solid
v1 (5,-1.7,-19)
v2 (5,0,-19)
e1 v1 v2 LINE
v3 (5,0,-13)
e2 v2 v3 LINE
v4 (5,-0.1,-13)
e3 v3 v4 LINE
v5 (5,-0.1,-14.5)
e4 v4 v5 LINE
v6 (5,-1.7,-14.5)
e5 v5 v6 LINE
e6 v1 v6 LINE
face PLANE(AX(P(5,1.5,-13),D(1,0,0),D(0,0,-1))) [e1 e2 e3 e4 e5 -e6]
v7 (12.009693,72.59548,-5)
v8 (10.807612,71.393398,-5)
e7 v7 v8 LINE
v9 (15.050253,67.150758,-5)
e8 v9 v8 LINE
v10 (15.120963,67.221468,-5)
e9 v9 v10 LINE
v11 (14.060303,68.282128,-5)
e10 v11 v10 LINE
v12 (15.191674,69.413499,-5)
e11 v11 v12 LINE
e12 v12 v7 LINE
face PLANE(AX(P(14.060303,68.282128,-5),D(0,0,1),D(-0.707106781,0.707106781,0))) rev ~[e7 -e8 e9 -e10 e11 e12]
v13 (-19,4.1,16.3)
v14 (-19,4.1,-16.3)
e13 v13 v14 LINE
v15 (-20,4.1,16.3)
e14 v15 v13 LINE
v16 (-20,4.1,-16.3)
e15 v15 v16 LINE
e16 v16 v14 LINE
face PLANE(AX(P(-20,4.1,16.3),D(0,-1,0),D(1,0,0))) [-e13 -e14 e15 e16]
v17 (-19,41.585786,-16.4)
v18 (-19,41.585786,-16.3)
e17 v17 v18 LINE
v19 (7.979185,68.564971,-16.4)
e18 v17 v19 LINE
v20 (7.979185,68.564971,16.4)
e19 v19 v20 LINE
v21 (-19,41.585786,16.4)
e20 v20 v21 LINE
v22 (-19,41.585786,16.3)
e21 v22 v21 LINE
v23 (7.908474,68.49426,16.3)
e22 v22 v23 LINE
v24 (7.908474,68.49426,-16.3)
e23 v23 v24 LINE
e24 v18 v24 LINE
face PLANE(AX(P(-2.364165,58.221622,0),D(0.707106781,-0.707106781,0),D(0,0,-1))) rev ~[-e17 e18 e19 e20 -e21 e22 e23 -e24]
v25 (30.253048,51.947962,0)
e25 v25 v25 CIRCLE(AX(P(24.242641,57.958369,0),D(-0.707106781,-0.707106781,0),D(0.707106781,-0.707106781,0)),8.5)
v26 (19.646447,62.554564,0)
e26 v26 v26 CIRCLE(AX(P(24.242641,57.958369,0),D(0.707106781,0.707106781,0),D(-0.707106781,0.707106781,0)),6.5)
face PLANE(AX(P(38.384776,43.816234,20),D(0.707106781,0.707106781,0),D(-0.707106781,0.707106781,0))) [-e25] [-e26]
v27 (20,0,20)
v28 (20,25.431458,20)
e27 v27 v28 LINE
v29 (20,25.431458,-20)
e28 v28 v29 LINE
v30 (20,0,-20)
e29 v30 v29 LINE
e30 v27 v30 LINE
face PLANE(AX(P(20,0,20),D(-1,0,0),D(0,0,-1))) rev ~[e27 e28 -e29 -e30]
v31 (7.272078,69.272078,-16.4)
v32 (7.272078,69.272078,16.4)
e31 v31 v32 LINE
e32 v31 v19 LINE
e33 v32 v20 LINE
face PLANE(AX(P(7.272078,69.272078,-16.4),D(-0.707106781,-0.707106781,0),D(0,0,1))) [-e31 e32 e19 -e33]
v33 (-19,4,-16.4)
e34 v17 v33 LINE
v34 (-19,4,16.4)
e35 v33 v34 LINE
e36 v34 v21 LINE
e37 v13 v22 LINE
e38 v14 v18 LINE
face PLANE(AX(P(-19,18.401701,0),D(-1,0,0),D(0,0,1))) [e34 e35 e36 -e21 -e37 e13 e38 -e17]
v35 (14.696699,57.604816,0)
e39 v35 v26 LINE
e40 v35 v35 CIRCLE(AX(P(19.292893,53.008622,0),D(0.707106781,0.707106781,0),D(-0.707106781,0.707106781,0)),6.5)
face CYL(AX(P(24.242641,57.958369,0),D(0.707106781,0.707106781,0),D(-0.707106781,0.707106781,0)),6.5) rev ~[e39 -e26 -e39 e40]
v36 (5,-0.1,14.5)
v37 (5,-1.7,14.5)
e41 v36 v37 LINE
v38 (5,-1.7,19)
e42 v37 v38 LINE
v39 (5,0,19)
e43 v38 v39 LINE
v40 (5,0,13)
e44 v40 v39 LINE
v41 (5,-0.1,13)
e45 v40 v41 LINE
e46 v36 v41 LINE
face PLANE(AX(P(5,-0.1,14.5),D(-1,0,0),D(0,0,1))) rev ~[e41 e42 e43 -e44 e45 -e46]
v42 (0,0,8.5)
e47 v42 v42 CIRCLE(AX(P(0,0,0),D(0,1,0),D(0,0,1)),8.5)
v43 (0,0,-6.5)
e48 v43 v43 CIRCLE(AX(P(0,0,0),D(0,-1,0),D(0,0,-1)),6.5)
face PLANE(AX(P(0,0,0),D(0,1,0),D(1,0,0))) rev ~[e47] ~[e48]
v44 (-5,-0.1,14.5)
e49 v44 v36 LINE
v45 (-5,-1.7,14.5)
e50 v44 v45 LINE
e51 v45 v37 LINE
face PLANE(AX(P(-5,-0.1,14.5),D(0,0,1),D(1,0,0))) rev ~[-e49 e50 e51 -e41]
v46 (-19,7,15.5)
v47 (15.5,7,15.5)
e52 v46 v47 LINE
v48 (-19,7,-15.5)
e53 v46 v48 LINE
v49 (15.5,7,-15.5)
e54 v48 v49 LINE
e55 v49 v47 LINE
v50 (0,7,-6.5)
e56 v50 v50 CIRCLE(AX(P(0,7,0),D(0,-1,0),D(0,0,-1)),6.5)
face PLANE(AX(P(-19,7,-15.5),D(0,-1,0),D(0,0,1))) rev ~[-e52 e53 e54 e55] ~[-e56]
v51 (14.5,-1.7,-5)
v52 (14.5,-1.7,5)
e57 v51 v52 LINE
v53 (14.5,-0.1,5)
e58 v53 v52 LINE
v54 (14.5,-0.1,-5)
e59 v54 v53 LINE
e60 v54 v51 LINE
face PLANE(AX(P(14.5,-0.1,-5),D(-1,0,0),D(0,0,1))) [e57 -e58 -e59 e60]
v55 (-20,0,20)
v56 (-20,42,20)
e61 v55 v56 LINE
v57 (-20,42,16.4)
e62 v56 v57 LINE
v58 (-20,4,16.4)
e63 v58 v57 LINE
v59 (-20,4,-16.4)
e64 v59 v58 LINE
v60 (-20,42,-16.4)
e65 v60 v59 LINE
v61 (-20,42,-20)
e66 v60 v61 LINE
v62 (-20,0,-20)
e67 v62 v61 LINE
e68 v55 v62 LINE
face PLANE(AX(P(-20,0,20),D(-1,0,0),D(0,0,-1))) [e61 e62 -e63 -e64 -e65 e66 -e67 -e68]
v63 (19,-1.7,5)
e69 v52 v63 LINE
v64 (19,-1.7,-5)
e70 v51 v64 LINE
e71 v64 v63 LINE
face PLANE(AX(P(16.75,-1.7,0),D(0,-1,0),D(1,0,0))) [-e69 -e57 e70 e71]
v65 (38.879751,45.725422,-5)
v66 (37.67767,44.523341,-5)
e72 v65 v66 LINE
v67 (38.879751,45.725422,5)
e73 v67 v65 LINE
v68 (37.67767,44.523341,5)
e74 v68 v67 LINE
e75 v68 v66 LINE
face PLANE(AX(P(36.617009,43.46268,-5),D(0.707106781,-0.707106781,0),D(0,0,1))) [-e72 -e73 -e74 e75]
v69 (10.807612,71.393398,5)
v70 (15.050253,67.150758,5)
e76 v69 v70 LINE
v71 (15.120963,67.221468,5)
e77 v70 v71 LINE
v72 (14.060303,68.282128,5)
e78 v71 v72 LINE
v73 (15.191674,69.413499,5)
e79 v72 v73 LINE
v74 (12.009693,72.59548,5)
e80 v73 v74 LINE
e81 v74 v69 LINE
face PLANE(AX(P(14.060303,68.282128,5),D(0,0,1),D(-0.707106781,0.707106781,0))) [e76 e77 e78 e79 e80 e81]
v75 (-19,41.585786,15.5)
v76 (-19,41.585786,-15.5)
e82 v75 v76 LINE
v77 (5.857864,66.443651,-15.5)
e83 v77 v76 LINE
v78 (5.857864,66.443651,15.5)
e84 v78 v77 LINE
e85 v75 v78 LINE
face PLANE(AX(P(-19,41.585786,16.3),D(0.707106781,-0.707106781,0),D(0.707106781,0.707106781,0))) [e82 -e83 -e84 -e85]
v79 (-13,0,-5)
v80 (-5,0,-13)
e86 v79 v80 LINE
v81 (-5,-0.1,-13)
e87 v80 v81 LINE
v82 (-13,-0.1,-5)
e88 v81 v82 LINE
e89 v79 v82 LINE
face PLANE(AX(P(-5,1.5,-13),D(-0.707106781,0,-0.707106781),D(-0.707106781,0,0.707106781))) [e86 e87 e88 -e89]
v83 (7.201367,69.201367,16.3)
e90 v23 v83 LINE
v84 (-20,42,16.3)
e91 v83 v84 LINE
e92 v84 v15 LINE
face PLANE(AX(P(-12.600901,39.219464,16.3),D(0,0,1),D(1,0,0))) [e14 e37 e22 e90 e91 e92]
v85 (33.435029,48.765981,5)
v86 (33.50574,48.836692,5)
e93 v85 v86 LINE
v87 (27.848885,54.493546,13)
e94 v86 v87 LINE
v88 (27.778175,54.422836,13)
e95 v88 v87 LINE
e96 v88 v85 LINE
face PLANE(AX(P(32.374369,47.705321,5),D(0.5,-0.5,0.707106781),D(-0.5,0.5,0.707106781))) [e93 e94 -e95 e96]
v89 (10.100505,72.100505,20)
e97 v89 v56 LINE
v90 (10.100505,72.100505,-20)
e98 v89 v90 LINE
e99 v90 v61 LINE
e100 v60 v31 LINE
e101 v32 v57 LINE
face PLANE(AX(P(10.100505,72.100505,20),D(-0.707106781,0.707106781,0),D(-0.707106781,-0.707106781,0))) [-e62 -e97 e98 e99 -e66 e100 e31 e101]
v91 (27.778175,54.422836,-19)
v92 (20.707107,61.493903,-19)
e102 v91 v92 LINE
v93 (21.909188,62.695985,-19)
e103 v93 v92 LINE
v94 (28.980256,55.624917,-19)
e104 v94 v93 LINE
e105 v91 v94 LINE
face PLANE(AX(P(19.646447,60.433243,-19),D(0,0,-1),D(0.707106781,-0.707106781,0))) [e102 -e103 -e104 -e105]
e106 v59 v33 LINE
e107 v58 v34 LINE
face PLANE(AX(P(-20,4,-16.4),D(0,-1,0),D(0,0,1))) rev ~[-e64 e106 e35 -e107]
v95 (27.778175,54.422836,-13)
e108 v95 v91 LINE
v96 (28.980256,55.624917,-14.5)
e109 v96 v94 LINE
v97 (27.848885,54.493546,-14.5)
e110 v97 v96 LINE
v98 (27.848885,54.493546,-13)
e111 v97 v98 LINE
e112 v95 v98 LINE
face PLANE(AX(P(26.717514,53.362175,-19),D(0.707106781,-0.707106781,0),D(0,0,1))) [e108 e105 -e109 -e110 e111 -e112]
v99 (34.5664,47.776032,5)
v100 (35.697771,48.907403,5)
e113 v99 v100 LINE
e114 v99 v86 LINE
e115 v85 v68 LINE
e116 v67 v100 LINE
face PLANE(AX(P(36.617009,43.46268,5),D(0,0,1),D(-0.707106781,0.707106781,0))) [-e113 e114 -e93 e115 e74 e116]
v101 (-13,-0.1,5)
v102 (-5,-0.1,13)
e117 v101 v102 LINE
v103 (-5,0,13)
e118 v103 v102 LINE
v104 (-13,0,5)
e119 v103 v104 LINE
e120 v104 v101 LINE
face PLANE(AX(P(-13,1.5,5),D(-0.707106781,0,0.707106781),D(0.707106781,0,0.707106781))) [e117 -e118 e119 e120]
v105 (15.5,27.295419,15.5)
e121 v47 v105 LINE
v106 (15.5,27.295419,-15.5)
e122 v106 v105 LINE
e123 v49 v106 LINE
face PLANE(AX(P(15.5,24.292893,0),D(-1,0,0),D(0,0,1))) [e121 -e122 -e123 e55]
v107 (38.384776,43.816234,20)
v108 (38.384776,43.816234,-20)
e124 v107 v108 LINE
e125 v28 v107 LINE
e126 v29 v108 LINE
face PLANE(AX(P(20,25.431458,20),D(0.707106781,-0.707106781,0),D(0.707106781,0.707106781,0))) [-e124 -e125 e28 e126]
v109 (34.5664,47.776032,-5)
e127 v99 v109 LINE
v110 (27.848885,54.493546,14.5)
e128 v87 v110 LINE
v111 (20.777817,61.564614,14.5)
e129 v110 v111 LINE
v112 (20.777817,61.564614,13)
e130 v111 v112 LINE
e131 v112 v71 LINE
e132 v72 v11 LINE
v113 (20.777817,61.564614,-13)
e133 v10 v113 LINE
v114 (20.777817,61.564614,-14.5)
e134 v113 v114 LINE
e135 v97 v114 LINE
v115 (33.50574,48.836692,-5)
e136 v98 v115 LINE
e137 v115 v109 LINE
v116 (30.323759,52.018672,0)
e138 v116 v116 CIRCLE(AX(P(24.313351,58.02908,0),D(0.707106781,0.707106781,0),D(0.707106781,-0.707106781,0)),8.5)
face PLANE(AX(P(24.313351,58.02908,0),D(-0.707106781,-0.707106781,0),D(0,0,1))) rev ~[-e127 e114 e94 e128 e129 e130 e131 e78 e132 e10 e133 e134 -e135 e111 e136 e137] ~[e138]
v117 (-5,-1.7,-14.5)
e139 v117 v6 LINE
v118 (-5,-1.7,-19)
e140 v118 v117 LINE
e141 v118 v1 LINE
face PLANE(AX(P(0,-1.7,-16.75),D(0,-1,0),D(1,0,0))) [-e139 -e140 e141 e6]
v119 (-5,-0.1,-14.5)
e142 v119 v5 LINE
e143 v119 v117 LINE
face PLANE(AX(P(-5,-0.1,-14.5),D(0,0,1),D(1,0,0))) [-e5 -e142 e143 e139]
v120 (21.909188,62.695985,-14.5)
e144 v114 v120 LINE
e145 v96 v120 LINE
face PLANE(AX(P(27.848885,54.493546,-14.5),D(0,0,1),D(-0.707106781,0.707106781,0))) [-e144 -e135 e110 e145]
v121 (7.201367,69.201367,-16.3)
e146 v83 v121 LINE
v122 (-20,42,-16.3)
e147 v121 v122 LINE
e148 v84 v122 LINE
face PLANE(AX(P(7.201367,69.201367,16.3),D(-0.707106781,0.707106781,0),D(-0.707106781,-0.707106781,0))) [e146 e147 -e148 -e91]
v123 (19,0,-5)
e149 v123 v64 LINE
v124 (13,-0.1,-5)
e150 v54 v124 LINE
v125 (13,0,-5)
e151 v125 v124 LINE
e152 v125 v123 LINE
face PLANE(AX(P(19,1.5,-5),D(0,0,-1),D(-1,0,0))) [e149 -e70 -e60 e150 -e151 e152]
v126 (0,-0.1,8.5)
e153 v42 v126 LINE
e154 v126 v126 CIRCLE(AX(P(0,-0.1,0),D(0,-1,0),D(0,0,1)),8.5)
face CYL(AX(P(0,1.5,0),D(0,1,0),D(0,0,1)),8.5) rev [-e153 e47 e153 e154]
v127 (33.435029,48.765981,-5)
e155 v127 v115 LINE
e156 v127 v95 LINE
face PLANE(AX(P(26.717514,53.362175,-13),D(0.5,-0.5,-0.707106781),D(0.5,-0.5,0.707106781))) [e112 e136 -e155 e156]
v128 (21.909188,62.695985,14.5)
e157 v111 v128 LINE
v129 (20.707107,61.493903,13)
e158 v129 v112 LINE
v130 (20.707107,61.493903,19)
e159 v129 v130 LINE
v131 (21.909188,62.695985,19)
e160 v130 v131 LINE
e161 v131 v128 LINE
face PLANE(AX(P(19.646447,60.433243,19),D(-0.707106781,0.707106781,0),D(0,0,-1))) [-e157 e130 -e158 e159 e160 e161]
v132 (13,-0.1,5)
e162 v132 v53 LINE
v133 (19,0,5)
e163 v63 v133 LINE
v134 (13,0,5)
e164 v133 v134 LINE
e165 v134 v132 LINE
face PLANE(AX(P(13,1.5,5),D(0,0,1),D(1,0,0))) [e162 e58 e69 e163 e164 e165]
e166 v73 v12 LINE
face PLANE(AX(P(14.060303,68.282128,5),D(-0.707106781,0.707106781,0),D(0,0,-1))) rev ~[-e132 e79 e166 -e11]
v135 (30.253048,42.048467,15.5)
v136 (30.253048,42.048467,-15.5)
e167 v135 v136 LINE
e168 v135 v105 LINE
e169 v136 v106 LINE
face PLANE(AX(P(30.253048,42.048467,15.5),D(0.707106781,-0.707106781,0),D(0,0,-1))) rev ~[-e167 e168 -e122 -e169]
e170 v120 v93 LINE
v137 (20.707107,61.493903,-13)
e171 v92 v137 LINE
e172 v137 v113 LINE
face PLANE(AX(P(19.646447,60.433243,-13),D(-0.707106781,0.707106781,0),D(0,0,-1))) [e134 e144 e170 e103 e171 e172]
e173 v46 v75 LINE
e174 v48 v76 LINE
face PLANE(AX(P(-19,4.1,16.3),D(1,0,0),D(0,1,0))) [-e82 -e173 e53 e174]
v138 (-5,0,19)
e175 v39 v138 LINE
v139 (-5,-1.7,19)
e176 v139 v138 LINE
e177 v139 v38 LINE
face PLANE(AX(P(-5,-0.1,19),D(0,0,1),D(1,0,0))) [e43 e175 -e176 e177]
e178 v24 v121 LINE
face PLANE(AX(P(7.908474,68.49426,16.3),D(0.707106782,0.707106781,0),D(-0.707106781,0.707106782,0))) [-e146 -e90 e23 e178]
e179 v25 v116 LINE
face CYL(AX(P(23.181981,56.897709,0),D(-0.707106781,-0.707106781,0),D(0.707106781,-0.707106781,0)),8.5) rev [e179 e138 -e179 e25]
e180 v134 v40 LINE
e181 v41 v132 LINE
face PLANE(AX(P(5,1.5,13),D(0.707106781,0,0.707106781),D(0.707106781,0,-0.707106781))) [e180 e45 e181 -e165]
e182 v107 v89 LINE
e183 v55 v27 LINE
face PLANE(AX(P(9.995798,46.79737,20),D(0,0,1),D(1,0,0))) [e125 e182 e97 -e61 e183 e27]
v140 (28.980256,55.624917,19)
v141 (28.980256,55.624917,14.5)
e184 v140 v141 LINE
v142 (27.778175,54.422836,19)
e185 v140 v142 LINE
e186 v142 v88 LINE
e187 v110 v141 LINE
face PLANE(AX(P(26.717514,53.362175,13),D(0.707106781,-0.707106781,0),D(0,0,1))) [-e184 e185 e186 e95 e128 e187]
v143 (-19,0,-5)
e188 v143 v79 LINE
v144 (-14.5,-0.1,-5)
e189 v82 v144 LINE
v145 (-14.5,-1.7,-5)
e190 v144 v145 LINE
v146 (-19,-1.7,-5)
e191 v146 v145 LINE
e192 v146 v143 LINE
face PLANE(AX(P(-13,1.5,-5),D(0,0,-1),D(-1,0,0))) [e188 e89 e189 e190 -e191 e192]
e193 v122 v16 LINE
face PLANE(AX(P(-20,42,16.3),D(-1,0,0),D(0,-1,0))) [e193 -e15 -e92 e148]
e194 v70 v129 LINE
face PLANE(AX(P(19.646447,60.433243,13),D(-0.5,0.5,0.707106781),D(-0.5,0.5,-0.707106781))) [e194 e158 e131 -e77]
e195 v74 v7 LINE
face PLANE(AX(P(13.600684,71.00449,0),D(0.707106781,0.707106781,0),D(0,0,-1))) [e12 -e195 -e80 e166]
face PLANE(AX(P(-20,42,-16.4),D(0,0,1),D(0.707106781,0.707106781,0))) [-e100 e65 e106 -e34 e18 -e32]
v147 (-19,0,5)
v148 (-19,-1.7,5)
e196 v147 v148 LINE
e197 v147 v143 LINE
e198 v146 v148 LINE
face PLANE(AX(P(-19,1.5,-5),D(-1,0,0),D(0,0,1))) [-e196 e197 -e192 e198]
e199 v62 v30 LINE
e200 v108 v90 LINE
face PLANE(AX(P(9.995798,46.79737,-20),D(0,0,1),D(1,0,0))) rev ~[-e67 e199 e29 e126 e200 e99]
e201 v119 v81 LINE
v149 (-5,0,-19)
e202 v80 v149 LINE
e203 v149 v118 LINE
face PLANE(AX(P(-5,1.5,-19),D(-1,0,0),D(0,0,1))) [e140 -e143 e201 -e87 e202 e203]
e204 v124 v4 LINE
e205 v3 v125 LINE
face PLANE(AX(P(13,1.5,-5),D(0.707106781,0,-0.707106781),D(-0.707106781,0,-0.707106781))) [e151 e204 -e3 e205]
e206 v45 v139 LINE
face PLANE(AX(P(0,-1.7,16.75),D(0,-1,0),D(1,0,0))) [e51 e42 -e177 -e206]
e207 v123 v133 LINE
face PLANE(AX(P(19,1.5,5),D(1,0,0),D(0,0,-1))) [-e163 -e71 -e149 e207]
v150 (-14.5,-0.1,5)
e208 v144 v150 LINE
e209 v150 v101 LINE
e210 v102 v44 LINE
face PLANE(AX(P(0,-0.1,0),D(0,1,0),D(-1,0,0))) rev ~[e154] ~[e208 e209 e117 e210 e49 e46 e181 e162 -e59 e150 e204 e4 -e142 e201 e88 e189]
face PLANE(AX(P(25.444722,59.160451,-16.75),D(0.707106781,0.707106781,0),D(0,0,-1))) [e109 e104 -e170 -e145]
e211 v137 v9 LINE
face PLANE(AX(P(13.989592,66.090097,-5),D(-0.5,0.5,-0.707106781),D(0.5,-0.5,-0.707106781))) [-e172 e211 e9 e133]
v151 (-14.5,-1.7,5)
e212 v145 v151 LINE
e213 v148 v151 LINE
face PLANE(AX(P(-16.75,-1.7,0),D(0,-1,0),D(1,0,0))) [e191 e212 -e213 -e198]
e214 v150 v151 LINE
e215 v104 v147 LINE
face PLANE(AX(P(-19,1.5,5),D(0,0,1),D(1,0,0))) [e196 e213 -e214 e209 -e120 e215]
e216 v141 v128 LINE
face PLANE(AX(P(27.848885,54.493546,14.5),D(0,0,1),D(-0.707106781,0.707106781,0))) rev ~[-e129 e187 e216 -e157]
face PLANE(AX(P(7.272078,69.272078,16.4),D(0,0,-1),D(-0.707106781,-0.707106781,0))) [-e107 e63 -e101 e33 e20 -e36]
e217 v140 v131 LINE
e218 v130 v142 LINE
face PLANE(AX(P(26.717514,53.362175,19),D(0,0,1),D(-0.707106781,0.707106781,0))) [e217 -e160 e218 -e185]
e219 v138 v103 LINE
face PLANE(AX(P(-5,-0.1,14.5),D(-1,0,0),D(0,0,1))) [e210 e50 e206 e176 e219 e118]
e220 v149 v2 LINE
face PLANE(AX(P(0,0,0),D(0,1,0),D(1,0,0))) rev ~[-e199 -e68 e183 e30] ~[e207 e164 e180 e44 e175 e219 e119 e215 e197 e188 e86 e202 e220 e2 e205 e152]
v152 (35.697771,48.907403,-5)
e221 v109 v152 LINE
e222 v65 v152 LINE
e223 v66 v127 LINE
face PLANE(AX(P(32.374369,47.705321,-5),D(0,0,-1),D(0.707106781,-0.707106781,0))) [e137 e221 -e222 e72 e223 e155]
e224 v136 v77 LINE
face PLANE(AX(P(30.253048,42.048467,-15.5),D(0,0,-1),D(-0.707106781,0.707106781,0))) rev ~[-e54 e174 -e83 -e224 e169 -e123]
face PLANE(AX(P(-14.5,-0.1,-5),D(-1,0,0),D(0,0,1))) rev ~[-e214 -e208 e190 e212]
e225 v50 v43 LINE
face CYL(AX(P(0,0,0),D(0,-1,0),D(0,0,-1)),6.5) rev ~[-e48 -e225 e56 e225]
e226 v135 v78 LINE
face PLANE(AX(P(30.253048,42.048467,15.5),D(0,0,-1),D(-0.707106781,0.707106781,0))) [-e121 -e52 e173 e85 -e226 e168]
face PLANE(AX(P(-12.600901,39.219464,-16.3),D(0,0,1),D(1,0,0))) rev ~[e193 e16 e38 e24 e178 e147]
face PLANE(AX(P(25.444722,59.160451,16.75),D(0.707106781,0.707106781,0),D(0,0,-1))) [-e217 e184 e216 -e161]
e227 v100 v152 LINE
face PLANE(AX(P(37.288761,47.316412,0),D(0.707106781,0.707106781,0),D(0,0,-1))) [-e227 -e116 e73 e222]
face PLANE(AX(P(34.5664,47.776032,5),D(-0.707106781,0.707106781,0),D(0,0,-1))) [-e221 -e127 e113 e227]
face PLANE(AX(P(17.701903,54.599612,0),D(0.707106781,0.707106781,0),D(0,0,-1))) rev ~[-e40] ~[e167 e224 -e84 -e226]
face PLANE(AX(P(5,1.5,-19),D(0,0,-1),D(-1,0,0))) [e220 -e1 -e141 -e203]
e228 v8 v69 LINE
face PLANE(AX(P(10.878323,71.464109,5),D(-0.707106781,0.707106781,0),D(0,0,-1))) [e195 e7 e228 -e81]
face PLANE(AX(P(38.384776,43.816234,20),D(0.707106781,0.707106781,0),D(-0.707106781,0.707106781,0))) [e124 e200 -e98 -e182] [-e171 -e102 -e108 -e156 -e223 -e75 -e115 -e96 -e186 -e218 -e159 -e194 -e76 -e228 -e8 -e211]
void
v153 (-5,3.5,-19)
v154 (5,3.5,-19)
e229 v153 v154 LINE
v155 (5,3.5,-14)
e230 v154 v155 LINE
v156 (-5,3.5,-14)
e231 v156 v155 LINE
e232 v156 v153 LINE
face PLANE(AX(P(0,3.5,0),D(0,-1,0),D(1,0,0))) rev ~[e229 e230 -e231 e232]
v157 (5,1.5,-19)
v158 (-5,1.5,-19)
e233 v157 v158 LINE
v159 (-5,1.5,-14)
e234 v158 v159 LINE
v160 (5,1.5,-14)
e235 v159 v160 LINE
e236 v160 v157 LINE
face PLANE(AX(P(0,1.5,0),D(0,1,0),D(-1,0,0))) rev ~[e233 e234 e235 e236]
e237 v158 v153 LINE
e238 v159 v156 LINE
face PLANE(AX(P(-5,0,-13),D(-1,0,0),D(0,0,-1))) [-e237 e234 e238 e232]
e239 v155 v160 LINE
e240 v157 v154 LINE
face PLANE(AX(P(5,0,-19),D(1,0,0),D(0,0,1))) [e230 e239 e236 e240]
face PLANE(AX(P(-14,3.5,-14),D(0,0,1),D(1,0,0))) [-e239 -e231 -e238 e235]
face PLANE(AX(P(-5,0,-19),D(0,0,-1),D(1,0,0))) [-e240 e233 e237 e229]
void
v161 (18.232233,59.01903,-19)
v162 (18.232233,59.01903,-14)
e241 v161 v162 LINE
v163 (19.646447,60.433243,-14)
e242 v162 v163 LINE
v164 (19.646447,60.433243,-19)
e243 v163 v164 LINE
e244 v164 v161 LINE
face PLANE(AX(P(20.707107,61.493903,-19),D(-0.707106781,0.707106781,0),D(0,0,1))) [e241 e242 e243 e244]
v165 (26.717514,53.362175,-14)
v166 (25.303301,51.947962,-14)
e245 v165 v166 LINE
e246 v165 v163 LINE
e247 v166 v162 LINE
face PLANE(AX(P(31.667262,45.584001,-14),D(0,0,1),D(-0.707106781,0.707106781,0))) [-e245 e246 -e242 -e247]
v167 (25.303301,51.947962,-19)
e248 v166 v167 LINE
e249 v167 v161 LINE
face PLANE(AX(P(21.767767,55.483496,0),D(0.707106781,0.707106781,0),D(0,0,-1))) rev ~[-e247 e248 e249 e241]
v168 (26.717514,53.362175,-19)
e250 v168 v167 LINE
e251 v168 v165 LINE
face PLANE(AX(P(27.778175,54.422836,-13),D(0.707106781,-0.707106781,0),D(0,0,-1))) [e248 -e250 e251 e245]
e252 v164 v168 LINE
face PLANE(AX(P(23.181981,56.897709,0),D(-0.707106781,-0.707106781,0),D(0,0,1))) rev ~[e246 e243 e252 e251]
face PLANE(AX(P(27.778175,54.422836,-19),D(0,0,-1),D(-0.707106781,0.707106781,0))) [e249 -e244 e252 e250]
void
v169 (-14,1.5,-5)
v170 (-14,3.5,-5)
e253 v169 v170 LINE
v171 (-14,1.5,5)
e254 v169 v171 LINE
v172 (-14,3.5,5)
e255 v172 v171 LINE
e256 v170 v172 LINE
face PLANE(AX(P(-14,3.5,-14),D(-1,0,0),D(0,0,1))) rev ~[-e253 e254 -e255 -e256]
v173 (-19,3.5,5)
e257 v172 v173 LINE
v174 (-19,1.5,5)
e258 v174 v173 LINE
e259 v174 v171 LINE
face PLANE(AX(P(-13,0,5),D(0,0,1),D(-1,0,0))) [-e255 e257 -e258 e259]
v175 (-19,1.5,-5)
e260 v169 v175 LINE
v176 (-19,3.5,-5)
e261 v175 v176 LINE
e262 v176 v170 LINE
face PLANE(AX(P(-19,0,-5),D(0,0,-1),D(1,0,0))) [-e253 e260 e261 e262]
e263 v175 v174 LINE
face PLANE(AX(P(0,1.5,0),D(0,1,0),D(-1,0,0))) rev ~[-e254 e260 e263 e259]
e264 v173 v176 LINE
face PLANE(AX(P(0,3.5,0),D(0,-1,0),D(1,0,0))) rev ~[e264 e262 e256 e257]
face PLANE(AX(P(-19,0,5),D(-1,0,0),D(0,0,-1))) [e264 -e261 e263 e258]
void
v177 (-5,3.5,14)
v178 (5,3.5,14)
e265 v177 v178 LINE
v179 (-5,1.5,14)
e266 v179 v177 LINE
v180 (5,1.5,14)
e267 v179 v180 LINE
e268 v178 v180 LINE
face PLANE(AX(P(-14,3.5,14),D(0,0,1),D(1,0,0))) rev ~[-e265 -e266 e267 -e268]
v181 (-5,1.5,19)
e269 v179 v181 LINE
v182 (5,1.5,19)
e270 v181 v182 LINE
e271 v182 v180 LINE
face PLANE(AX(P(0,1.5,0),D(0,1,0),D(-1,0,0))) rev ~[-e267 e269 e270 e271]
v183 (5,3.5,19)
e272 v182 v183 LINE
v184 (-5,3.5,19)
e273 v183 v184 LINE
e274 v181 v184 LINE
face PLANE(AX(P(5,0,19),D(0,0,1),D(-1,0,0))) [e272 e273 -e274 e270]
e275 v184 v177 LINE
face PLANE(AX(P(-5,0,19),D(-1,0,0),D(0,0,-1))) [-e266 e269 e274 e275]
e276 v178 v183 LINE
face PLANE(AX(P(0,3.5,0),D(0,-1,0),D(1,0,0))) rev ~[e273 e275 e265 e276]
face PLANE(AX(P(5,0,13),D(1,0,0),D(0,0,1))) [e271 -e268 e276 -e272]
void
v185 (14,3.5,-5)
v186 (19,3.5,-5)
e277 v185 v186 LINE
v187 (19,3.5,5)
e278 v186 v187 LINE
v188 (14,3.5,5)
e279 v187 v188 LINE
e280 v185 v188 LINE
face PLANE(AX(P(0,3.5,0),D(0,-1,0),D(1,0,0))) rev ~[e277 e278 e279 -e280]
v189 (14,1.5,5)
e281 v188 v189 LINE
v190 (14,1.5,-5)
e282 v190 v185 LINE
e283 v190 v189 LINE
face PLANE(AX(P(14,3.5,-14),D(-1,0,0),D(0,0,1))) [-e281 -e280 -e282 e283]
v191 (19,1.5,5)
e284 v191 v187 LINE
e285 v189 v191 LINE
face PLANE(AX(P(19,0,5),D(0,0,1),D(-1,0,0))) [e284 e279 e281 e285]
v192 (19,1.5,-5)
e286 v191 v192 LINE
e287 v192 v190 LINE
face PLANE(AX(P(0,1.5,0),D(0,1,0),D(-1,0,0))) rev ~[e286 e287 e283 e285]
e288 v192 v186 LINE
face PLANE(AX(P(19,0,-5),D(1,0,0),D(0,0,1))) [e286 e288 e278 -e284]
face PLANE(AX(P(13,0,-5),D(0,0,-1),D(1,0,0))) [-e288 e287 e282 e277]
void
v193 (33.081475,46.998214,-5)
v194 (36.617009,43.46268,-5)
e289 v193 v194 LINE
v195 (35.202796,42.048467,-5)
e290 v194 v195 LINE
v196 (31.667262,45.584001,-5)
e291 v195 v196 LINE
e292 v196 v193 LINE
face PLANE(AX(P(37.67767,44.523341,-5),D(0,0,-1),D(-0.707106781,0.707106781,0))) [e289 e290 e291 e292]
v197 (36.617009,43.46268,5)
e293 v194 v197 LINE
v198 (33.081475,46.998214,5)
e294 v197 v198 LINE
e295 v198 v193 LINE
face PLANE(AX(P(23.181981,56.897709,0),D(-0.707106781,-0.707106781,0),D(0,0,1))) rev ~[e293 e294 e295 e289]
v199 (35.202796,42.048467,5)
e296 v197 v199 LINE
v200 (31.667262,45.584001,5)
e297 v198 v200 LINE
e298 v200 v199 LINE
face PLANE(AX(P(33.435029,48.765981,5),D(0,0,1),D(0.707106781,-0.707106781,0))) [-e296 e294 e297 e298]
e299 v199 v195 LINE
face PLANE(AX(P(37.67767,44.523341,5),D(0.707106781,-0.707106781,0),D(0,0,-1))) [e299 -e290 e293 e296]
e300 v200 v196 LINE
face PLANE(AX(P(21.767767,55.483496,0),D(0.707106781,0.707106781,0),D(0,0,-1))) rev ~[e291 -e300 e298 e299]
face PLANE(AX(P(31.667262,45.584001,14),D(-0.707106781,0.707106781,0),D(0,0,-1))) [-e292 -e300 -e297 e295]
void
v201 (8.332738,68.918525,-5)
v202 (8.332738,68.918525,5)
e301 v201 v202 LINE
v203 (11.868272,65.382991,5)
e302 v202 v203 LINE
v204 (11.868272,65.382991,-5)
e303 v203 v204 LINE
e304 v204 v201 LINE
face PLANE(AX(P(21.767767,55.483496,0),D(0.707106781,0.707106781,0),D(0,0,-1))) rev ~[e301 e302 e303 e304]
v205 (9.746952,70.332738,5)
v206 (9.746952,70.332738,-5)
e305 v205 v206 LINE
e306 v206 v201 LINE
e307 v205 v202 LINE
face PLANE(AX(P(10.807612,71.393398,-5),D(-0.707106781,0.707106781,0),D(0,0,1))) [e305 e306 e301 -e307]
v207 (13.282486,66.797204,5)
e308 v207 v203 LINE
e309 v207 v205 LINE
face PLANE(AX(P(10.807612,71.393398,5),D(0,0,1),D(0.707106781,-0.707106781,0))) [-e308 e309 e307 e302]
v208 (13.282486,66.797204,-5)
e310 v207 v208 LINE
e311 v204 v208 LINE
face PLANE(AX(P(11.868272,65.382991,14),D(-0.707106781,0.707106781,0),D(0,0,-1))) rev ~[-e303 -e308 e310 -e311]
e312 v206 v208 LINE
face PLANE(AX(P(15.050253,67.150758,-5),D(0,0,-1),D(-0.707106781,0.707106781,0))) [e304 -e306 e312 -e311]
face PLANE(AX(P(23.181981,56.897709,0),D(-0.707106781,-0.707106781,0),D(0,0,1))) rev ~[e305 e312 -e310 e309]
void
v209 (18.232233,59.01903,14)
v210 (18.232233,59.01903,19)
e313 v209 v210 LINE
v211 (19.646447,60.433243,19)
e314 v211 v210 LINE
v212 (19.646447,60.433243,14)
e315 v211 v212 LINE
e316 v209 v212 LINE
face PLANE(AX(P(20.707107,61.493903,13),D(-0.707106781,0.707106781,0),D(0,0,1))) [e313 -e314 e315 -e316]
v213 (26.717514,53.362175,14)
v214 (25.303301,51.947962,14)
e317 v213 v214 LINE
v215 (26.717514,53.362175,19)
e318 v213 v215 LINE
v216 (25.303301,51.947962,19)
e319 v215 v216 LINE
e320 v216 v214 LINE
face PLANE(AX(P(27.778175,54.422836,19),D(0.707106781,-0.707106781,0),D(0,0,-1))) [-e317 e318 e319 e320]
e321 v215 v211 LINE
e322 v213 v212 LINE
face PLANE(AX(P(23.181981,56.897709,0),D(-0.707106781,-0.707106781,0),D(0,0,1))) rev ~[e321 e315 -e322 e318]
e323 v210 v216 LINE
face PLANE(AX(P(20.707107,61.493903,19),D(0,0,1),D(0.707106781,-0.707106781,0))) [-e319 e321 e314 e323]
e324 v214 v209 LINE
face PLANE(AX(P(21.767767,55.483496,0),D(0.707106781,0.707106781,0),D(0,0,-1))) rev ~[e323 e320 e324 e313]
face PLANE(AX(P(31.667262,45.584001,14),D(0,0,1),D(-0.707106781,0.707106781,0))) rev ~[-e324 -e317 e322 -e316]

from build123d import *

# Parameters (mm, degrees)
SKETCH_2_W           = 40
SKETCH_2_H           = 40
EXTRUDE_1_DEPTH      = 42
CUT_EXTRUDE_1_DEPTH  = 42
CUT_EXTRUDE_START    = 7
SKETCH_5_W           = 35.4
SKETCH_5_H           = 30.8
CUT_EXTRUDE_2_DEPTH  = 42
EXTRUDE_2_DEPTH      = 40
CUT_EXTRUDE_3_REACH  = 81.267
CUT_EXTRUDE_START_2  = -7
SKETCH_7_W           = 31
SKETCH_7_H           = 35.5
CUT_EXTRUDE_4_DEPTH  = 1
CUT_EXTRUDE_5_DEPTH  = 1
SKETCH_14_W          = 31
SKETCH_14_H          = 34.585786438
CUT_EXTRUDE_7_DEPTH  = 34.5
SKETCH_15_R          = 6.5
CUT_EXTRUDE_8_DEPTH  = 10
SKETCH_16_R          = 6.5
CUT_EXTRUDE_9_DEPTH  = 10
SKETCH_17_R          = 8.5
CUT_EXTRUDE_10_DEPTH = 3.5
SKETCH_19_W          = 28
SKETCH_19_H          = 28
SKETCH_19_R          = 6.5
EXTRUDE_3_DEPTH      = 2
SKETCH_20_R          = 8.5
CUT_EXTRUDE_11_DEPTH = 3.5
SKETCH_21_W          = 28
SKETCH_21_H          = 28
SKETCH_21_R          = 6.5
EXTRUDE_4_DEPTH      = 2
EXTRUDE_START        = 0.1
EXTRUDE_5_DEPTH      = 32.6
SKETCH_23_R          = 8.5
EXTRUDE_6_DEPTH      = 1.6
SKETCH_24_W          = 10
SKETCH_24_H          = 4.5
SKETCH_24_W_2        = 4.5
SKETCH_24_H_2        = 10
EXTRUDE_7_DEPTH      = 1.6
SKETCH_25_R          = 8.5
EXTRUDE_8_DEPTH      = 1.6
SKETCH_26_W          = 10
SKETCH_26_H          = 4.5
SKETCH_26_W_2        = 4.5
SKETCH_26_H_2        = 10
EXTRUDE_9_DEPTH      = 1.6


with BuildPart() as part:
    # Эскиз2 → Бобышка-Вытянуть1 (new body)
    with BuildSketch(Plane(origin=(0, 0, 0), x_dir=(1, 0, 0), z_dir=(0, 1, 0))):
        Rectangle(SKETCH_2_W, SKETCH_2_H)
    extrude(amount=EXTRUDE_1_DEPTH)

    # Эскиз4 → Вырез-Вытянуть1 (cut)
    with BuildSketch(Plane.XY.offset(20)):
        Polygon((20, 42), (-20, 42), (20, 25.431457505), align=None)
    extrude(amount=-CUT_EXTRUDE_1_DEPTH, mode=Mode.SUBTRACT)

    # Эскиз5 → Вырез-Вытянуть2 (cut)
    with BuildSketch(Plane(origin=(0, 0, 0), x_dir=(1, 0, 0), z_dir=(0, 1, 0)).offset(CUT_EXTRUDE_START)):
        with Locations((-2.3, 0)):
            Rectangle(SKETCH_5_W, SKETCH_5_H)
    extrude(amount=CUT_EXTRUDE_2_DEPTH, mode=Mode.SUBTRACT)

    # Эскиз6 → Бобышка-Вытянуть2 (add)
    with BuildSketch(Plane.XY.offset(20)):
        Polygon((20, 25.431457505), (38.384776311, 43.816233816), (10.100505063, 72.100505063), (-20, 42), align=None)
    extrude(amount=-EXTRUDE_2_DEPTH)

    # Вырез-Вытянуть3: up to this plane
    cut_extrude_3_end = Plane(origin=(20, 25.431457505, -94.744779783), z_dir=(0.382683432, 0.923879533, 0))
    # Эскиз7 → Вырез-Вытянуть3 (cut, up to the surface)
    with BuildSketch(Plane(origin=(41.100505063, 41.100505063, 0), x_dir=(0, 0, -1), z_dir=(0.707106781, 0.707106781, 0)).offset(CUT_EXTRUDE_START_2), mode=Mode.PRIVATE) as cut_extrude_3_sk1:
        with Locations((0, 26.090620434)):
            Rectangle(SKETCH_7_W, SKETCH_7_H)
    cut_extrude_3_tool1 = split(extrude(cut_extrude_3_sk1.sketch, amount=-CUT_EXTRUDE_3_REACH, mode=Mode.PRIVATE), bisect_by=cut_extrude_3_end, keep=Keep.BOTH, mode=Mode.PRIVATE)
    add(cut_extrude_3_tool1.solids().sort_by_distance((17.701903, 54.599612, 0))[0], mode=Mode.SUBTRACT)

    # Эскиз8 → Вырез-Вытянуть4 (cut)
    with BuildSketch(Plane.ZY.offset(20)):
        Polygon((-16.4, 42), (-16.4, 4), (16.4, 4), (16.4, 42), (15.4, 42), (15.4, 7), (-15.4, 7), (-15.4, 42), align=None)
    extrude(amount=-CUT_EXTRUDE_4_DEPTH, mode=Mode.SUBTRACT)

    # Эскиз12 → Вырез-Вытянуть5 (cut)
    with BuildSketch(Plane(origin=(-31, 31, 0), x_dir=(0, 0, 1), z_dir=(-0.707106781, 0.707106781, 0))):
        Polygon((-16.4, 15.556349186), (-16.4, 54.124891681), (16.4, 54.124891681), (16.4, 15.556349186), (15.5, 15.556349186), (15.5, 51.124891681), (-15.5, 51.124891681), (-15.5, 15.556349186), align=None)
    extrude(amount=-CUT_EXTRUDE_5_DEPTH, mode=Mode.SUBTRACT)

    # Эскиз14 → Вырез-Вытянуть7 (cut)
    with BuildSketch(Plane.ZY.offset(19)):
        with Locations((0, 24.292893219)):
            Rectangle(SKETCH_14_W, SKETCH_14_H)
    extrude(amount=-CUT_EXTRUDE_7_DEPTH, mode=Mode.SUBTRACT)

    # Эскиз15 → Вырез-Вытянуть8 (cut)
    with BuildSketch(Plane(origin=(41.100505063, 41.100505063, 0), x_dir=(0, 0, -1), z_dir=(0.707106781, 0.707106781, 0))):
        with Locations(Location((0, 23.840620434, 0), (0, 0, 90))):  # turned: the seam where the file's is
            Circle(SKETCH_15_R)
    extrude(amount=-CUT_EXTRUDE_8_DEPTH, mode=Mode.SUBTRACT)

    # Эскиз16 → Вырез-Вытянуть9 (cut)
    with BuildSketch(Plane.XZ):
        with Locations(Location((0, 0, 0), (0, 0, 270))):  # turned: the seam where the file's is
            Circle(SKETCH_16_R)
    extrude(amount=-CUT_EXTRUDE_9_DEPTH, mode=Mode.SUBTRACT)

    # Эскиз17 → Вырез-Вытянуть10 (cut)
    with BuildSketch(Plane(origin=(41.100505063, 41.100505063, 0), x_dir=(0, 0, -1), z_dir=(0.707106781, 0.707106781, 0))):
        Polygon((0, 42.840620434), (-5, 42.840620434), (-5, 36.840620434), (-13, 28.840620434), (-19, 28.840620434), (-19, 23.840620434), (-19, 18.840620434), (-13, 18.840620434), (-5, 10.840620434), (-5, 4.840620434), (5, 4.840620434), (5, 10.840620434), (13, 18.840620434), (19, 18.840620434), (19, 28.840620434), (13, 28.840620434), (5, 36.840620434), (5, 42.840620434), align=None)
        with Locations(Location((0, 23.840620434, 0), (0, 0, 90))):  # turned: the seam where the file's is
            Circle(SKETCH_17_R, mode=Mode.SUBTRACT)
    extrude(amount=-CUT_EXTRUDE_10_DEPTH, mode=Mode.SUBTRACT)

    # Эскиз19 → Бобышка-Вытянуть3 (add)
    with BuildSketch(Plane(origin=(38.625631329, 38.625631329, 0), x_dir=(0, 0, -1), z_dir=(0.707106781, 0.707106781, 0))):
        with Locations((0, 23.840620434)):
            Rectangle(SKETCH_19_W, SKETCH_19_H)
        with Locations(Location((0, 23.840620434, 0), (0, 0, 90))):  # turned: the seam where the file's is
            Circle(SKETCH_19_R, mode=Mode.SUBTRACT)
    extrude(amount=EXTRUDE_3_DEPTH)

    # Эскиз20 → Вырез-Вытянуть11 (cut)
    with BuildSketch(Plane.XZ):
        Polygon((0, 19), (-5, 19), (-5, 13), (-13, 5), (-19, 5), (-19, 0), (-19, -5), (-13, -5), (-5, -13), (-5, -19), (5, -19), (5, -13), (13, -5), (19, -5), (19, 5), (13, 5), (5, 13), (5, 19), align=None)
        with Locations(Location((0, 0, 0), (0, 0, 270))):  # turned: the seam where the file's is
            Circle(SKETCH_20_R, mode=Mode.SUBTRACT)
    extrude(amount=-CUT_EXTRUDE_11_DEPTH, mode=Mode.SUBTRACT)

    # Эскиз21 → Бобышка-Вытянуть4 (add)
    with BuildSketch(Plane.XZ.offset(-3.5)):
        Rectangle(SKETCH_21_W, SKETCH_21_H)
        with Locations(Location((0, 0, 0), (0, 0, 270))):  # turned: the seam where the file's is
            Circle(SKETCH_21_R, mode=Mode.SUBTRACT)
    extrude(amount=EXTRUDE_4_DEPTH)

    # Эскиз22 → Бобышка-Вытянуть5 (add)
    with BuildSketch(Plane(origin=(0, 0, 16.4), x_dir=(-1, 0, 0), z_dir=(0, 0, -1)).offset(EXTRUDE_START)):
        Polygon((-7.908474042, 68.494260479), (-7.201367261, 69.201367261), (20, 42), (20, 4.1), (19, 4.1), (19, 41.585786438), align=None)
    extrude(amount=EXTRUDE_5_DEPTH)

    # Эскиз23 → Бобышка-Вытянуть6 (add)
    with BuildSketch(Plane(origin=(40.039844892, 40.039844892, 0), x_dir=(0, 0, -1), z_dir=(0.707106781, 0.707106781, 0))):
        Polygon((-19, 18.840620434), (-19, 28.840620434), (-13, 28.840620434), (-5, 36.840620434), (-5, 42.840620434), (5, 42.840620434), (5, 36.840620434), (13, 28.840620434), (19, 28.840620434), (19, 18.840620434), (13, 18.840620434), (5, 10.840620434), (5, 4.840620434), (-5, 4.840620434), (-5, 10.840620434), (-13, 18.840620434), align=None)
        with Locations(Location((0, 23.840620434, 0), (0, 0, 270))):  # turned: the seam where the file's is
            Circle(SKETCH_23_R, mode=Mode.SUBTRACT)
    extrude(amount=EXTRUDE_6_DEPTH)

    # Эскиз24 → Бобышка-Вытянуть7 (add)
    with BuildSketch(Plane(origin=(41.171215742, 41.171215742, 0), x_dir=(0, 0, -1), z_dir=(0.707106781, 0.707106781, 0))):
        with Locations((0, 40.590620434)):
            Rectangle(SKETCH_24_W, SKETCH_24_H)
        with Locations((-16.75, 23.840620434)):
            Rectangle(SKETCH_24_W_2, SKETCH_24_H_2)
        with Locations((0, 7.090620434)):
            Rectangle(SKETCH_24_W, SKETCH_24_H)
        with Locations((16.75, 23.840620434)):
            Rectangle(SKETCH_24_W_2, SKETCH_24_H_2)
    extrude(amount=EXTRUDE_7_DEPTH)

    # Эскиз25 → Бобышка-Вытянуть8 (add)
    with BuildSketch(Plane.XZ.offset(-1.5)):
        Polygon((-5, 13), (-5, 19), (5, 19), (5, 13), (13, 5), (19, 5), (19, -5), (13, -5), (5, -13), (5, -19), (-5, -19), (-5, -13), (-13, -5), (-19, -5), (-19, 5), (-13, 5), align=None)
        with Locations(Location((0, 0, 0), (0, 0, 90))):  # turned: the seam where the file's is
            Circle(SKETCH_25_R, mode=Mode.SUBTRACT)
    extrude(amount=EXTRUDE_8_DEPTH)

    # Эскиз26 → Бобышка-Вытянуть9 (add)
    with BuildSketch(Plane.XZ.offset(0.1)):
        with Locations((0, 16.75)):
            Rectangle(SKETCH_26_W, SKETCH_26_H)
        with Locations((16.75, 0)):
            Rectangle(SKETCH_26_W_2, SKETCH_26_H_2)
        with Locations((0, -16.75)):
            Rectangle(SKETCH_26_W, SKETCH_26_H)
        with Locations((-16.75, 0)):
            Rectangle(SKETCH_26_W_2, SKETCH_26_H_2)
    extrude(amount=EXTRUDE_9_DEPTH)


solid = part.part
